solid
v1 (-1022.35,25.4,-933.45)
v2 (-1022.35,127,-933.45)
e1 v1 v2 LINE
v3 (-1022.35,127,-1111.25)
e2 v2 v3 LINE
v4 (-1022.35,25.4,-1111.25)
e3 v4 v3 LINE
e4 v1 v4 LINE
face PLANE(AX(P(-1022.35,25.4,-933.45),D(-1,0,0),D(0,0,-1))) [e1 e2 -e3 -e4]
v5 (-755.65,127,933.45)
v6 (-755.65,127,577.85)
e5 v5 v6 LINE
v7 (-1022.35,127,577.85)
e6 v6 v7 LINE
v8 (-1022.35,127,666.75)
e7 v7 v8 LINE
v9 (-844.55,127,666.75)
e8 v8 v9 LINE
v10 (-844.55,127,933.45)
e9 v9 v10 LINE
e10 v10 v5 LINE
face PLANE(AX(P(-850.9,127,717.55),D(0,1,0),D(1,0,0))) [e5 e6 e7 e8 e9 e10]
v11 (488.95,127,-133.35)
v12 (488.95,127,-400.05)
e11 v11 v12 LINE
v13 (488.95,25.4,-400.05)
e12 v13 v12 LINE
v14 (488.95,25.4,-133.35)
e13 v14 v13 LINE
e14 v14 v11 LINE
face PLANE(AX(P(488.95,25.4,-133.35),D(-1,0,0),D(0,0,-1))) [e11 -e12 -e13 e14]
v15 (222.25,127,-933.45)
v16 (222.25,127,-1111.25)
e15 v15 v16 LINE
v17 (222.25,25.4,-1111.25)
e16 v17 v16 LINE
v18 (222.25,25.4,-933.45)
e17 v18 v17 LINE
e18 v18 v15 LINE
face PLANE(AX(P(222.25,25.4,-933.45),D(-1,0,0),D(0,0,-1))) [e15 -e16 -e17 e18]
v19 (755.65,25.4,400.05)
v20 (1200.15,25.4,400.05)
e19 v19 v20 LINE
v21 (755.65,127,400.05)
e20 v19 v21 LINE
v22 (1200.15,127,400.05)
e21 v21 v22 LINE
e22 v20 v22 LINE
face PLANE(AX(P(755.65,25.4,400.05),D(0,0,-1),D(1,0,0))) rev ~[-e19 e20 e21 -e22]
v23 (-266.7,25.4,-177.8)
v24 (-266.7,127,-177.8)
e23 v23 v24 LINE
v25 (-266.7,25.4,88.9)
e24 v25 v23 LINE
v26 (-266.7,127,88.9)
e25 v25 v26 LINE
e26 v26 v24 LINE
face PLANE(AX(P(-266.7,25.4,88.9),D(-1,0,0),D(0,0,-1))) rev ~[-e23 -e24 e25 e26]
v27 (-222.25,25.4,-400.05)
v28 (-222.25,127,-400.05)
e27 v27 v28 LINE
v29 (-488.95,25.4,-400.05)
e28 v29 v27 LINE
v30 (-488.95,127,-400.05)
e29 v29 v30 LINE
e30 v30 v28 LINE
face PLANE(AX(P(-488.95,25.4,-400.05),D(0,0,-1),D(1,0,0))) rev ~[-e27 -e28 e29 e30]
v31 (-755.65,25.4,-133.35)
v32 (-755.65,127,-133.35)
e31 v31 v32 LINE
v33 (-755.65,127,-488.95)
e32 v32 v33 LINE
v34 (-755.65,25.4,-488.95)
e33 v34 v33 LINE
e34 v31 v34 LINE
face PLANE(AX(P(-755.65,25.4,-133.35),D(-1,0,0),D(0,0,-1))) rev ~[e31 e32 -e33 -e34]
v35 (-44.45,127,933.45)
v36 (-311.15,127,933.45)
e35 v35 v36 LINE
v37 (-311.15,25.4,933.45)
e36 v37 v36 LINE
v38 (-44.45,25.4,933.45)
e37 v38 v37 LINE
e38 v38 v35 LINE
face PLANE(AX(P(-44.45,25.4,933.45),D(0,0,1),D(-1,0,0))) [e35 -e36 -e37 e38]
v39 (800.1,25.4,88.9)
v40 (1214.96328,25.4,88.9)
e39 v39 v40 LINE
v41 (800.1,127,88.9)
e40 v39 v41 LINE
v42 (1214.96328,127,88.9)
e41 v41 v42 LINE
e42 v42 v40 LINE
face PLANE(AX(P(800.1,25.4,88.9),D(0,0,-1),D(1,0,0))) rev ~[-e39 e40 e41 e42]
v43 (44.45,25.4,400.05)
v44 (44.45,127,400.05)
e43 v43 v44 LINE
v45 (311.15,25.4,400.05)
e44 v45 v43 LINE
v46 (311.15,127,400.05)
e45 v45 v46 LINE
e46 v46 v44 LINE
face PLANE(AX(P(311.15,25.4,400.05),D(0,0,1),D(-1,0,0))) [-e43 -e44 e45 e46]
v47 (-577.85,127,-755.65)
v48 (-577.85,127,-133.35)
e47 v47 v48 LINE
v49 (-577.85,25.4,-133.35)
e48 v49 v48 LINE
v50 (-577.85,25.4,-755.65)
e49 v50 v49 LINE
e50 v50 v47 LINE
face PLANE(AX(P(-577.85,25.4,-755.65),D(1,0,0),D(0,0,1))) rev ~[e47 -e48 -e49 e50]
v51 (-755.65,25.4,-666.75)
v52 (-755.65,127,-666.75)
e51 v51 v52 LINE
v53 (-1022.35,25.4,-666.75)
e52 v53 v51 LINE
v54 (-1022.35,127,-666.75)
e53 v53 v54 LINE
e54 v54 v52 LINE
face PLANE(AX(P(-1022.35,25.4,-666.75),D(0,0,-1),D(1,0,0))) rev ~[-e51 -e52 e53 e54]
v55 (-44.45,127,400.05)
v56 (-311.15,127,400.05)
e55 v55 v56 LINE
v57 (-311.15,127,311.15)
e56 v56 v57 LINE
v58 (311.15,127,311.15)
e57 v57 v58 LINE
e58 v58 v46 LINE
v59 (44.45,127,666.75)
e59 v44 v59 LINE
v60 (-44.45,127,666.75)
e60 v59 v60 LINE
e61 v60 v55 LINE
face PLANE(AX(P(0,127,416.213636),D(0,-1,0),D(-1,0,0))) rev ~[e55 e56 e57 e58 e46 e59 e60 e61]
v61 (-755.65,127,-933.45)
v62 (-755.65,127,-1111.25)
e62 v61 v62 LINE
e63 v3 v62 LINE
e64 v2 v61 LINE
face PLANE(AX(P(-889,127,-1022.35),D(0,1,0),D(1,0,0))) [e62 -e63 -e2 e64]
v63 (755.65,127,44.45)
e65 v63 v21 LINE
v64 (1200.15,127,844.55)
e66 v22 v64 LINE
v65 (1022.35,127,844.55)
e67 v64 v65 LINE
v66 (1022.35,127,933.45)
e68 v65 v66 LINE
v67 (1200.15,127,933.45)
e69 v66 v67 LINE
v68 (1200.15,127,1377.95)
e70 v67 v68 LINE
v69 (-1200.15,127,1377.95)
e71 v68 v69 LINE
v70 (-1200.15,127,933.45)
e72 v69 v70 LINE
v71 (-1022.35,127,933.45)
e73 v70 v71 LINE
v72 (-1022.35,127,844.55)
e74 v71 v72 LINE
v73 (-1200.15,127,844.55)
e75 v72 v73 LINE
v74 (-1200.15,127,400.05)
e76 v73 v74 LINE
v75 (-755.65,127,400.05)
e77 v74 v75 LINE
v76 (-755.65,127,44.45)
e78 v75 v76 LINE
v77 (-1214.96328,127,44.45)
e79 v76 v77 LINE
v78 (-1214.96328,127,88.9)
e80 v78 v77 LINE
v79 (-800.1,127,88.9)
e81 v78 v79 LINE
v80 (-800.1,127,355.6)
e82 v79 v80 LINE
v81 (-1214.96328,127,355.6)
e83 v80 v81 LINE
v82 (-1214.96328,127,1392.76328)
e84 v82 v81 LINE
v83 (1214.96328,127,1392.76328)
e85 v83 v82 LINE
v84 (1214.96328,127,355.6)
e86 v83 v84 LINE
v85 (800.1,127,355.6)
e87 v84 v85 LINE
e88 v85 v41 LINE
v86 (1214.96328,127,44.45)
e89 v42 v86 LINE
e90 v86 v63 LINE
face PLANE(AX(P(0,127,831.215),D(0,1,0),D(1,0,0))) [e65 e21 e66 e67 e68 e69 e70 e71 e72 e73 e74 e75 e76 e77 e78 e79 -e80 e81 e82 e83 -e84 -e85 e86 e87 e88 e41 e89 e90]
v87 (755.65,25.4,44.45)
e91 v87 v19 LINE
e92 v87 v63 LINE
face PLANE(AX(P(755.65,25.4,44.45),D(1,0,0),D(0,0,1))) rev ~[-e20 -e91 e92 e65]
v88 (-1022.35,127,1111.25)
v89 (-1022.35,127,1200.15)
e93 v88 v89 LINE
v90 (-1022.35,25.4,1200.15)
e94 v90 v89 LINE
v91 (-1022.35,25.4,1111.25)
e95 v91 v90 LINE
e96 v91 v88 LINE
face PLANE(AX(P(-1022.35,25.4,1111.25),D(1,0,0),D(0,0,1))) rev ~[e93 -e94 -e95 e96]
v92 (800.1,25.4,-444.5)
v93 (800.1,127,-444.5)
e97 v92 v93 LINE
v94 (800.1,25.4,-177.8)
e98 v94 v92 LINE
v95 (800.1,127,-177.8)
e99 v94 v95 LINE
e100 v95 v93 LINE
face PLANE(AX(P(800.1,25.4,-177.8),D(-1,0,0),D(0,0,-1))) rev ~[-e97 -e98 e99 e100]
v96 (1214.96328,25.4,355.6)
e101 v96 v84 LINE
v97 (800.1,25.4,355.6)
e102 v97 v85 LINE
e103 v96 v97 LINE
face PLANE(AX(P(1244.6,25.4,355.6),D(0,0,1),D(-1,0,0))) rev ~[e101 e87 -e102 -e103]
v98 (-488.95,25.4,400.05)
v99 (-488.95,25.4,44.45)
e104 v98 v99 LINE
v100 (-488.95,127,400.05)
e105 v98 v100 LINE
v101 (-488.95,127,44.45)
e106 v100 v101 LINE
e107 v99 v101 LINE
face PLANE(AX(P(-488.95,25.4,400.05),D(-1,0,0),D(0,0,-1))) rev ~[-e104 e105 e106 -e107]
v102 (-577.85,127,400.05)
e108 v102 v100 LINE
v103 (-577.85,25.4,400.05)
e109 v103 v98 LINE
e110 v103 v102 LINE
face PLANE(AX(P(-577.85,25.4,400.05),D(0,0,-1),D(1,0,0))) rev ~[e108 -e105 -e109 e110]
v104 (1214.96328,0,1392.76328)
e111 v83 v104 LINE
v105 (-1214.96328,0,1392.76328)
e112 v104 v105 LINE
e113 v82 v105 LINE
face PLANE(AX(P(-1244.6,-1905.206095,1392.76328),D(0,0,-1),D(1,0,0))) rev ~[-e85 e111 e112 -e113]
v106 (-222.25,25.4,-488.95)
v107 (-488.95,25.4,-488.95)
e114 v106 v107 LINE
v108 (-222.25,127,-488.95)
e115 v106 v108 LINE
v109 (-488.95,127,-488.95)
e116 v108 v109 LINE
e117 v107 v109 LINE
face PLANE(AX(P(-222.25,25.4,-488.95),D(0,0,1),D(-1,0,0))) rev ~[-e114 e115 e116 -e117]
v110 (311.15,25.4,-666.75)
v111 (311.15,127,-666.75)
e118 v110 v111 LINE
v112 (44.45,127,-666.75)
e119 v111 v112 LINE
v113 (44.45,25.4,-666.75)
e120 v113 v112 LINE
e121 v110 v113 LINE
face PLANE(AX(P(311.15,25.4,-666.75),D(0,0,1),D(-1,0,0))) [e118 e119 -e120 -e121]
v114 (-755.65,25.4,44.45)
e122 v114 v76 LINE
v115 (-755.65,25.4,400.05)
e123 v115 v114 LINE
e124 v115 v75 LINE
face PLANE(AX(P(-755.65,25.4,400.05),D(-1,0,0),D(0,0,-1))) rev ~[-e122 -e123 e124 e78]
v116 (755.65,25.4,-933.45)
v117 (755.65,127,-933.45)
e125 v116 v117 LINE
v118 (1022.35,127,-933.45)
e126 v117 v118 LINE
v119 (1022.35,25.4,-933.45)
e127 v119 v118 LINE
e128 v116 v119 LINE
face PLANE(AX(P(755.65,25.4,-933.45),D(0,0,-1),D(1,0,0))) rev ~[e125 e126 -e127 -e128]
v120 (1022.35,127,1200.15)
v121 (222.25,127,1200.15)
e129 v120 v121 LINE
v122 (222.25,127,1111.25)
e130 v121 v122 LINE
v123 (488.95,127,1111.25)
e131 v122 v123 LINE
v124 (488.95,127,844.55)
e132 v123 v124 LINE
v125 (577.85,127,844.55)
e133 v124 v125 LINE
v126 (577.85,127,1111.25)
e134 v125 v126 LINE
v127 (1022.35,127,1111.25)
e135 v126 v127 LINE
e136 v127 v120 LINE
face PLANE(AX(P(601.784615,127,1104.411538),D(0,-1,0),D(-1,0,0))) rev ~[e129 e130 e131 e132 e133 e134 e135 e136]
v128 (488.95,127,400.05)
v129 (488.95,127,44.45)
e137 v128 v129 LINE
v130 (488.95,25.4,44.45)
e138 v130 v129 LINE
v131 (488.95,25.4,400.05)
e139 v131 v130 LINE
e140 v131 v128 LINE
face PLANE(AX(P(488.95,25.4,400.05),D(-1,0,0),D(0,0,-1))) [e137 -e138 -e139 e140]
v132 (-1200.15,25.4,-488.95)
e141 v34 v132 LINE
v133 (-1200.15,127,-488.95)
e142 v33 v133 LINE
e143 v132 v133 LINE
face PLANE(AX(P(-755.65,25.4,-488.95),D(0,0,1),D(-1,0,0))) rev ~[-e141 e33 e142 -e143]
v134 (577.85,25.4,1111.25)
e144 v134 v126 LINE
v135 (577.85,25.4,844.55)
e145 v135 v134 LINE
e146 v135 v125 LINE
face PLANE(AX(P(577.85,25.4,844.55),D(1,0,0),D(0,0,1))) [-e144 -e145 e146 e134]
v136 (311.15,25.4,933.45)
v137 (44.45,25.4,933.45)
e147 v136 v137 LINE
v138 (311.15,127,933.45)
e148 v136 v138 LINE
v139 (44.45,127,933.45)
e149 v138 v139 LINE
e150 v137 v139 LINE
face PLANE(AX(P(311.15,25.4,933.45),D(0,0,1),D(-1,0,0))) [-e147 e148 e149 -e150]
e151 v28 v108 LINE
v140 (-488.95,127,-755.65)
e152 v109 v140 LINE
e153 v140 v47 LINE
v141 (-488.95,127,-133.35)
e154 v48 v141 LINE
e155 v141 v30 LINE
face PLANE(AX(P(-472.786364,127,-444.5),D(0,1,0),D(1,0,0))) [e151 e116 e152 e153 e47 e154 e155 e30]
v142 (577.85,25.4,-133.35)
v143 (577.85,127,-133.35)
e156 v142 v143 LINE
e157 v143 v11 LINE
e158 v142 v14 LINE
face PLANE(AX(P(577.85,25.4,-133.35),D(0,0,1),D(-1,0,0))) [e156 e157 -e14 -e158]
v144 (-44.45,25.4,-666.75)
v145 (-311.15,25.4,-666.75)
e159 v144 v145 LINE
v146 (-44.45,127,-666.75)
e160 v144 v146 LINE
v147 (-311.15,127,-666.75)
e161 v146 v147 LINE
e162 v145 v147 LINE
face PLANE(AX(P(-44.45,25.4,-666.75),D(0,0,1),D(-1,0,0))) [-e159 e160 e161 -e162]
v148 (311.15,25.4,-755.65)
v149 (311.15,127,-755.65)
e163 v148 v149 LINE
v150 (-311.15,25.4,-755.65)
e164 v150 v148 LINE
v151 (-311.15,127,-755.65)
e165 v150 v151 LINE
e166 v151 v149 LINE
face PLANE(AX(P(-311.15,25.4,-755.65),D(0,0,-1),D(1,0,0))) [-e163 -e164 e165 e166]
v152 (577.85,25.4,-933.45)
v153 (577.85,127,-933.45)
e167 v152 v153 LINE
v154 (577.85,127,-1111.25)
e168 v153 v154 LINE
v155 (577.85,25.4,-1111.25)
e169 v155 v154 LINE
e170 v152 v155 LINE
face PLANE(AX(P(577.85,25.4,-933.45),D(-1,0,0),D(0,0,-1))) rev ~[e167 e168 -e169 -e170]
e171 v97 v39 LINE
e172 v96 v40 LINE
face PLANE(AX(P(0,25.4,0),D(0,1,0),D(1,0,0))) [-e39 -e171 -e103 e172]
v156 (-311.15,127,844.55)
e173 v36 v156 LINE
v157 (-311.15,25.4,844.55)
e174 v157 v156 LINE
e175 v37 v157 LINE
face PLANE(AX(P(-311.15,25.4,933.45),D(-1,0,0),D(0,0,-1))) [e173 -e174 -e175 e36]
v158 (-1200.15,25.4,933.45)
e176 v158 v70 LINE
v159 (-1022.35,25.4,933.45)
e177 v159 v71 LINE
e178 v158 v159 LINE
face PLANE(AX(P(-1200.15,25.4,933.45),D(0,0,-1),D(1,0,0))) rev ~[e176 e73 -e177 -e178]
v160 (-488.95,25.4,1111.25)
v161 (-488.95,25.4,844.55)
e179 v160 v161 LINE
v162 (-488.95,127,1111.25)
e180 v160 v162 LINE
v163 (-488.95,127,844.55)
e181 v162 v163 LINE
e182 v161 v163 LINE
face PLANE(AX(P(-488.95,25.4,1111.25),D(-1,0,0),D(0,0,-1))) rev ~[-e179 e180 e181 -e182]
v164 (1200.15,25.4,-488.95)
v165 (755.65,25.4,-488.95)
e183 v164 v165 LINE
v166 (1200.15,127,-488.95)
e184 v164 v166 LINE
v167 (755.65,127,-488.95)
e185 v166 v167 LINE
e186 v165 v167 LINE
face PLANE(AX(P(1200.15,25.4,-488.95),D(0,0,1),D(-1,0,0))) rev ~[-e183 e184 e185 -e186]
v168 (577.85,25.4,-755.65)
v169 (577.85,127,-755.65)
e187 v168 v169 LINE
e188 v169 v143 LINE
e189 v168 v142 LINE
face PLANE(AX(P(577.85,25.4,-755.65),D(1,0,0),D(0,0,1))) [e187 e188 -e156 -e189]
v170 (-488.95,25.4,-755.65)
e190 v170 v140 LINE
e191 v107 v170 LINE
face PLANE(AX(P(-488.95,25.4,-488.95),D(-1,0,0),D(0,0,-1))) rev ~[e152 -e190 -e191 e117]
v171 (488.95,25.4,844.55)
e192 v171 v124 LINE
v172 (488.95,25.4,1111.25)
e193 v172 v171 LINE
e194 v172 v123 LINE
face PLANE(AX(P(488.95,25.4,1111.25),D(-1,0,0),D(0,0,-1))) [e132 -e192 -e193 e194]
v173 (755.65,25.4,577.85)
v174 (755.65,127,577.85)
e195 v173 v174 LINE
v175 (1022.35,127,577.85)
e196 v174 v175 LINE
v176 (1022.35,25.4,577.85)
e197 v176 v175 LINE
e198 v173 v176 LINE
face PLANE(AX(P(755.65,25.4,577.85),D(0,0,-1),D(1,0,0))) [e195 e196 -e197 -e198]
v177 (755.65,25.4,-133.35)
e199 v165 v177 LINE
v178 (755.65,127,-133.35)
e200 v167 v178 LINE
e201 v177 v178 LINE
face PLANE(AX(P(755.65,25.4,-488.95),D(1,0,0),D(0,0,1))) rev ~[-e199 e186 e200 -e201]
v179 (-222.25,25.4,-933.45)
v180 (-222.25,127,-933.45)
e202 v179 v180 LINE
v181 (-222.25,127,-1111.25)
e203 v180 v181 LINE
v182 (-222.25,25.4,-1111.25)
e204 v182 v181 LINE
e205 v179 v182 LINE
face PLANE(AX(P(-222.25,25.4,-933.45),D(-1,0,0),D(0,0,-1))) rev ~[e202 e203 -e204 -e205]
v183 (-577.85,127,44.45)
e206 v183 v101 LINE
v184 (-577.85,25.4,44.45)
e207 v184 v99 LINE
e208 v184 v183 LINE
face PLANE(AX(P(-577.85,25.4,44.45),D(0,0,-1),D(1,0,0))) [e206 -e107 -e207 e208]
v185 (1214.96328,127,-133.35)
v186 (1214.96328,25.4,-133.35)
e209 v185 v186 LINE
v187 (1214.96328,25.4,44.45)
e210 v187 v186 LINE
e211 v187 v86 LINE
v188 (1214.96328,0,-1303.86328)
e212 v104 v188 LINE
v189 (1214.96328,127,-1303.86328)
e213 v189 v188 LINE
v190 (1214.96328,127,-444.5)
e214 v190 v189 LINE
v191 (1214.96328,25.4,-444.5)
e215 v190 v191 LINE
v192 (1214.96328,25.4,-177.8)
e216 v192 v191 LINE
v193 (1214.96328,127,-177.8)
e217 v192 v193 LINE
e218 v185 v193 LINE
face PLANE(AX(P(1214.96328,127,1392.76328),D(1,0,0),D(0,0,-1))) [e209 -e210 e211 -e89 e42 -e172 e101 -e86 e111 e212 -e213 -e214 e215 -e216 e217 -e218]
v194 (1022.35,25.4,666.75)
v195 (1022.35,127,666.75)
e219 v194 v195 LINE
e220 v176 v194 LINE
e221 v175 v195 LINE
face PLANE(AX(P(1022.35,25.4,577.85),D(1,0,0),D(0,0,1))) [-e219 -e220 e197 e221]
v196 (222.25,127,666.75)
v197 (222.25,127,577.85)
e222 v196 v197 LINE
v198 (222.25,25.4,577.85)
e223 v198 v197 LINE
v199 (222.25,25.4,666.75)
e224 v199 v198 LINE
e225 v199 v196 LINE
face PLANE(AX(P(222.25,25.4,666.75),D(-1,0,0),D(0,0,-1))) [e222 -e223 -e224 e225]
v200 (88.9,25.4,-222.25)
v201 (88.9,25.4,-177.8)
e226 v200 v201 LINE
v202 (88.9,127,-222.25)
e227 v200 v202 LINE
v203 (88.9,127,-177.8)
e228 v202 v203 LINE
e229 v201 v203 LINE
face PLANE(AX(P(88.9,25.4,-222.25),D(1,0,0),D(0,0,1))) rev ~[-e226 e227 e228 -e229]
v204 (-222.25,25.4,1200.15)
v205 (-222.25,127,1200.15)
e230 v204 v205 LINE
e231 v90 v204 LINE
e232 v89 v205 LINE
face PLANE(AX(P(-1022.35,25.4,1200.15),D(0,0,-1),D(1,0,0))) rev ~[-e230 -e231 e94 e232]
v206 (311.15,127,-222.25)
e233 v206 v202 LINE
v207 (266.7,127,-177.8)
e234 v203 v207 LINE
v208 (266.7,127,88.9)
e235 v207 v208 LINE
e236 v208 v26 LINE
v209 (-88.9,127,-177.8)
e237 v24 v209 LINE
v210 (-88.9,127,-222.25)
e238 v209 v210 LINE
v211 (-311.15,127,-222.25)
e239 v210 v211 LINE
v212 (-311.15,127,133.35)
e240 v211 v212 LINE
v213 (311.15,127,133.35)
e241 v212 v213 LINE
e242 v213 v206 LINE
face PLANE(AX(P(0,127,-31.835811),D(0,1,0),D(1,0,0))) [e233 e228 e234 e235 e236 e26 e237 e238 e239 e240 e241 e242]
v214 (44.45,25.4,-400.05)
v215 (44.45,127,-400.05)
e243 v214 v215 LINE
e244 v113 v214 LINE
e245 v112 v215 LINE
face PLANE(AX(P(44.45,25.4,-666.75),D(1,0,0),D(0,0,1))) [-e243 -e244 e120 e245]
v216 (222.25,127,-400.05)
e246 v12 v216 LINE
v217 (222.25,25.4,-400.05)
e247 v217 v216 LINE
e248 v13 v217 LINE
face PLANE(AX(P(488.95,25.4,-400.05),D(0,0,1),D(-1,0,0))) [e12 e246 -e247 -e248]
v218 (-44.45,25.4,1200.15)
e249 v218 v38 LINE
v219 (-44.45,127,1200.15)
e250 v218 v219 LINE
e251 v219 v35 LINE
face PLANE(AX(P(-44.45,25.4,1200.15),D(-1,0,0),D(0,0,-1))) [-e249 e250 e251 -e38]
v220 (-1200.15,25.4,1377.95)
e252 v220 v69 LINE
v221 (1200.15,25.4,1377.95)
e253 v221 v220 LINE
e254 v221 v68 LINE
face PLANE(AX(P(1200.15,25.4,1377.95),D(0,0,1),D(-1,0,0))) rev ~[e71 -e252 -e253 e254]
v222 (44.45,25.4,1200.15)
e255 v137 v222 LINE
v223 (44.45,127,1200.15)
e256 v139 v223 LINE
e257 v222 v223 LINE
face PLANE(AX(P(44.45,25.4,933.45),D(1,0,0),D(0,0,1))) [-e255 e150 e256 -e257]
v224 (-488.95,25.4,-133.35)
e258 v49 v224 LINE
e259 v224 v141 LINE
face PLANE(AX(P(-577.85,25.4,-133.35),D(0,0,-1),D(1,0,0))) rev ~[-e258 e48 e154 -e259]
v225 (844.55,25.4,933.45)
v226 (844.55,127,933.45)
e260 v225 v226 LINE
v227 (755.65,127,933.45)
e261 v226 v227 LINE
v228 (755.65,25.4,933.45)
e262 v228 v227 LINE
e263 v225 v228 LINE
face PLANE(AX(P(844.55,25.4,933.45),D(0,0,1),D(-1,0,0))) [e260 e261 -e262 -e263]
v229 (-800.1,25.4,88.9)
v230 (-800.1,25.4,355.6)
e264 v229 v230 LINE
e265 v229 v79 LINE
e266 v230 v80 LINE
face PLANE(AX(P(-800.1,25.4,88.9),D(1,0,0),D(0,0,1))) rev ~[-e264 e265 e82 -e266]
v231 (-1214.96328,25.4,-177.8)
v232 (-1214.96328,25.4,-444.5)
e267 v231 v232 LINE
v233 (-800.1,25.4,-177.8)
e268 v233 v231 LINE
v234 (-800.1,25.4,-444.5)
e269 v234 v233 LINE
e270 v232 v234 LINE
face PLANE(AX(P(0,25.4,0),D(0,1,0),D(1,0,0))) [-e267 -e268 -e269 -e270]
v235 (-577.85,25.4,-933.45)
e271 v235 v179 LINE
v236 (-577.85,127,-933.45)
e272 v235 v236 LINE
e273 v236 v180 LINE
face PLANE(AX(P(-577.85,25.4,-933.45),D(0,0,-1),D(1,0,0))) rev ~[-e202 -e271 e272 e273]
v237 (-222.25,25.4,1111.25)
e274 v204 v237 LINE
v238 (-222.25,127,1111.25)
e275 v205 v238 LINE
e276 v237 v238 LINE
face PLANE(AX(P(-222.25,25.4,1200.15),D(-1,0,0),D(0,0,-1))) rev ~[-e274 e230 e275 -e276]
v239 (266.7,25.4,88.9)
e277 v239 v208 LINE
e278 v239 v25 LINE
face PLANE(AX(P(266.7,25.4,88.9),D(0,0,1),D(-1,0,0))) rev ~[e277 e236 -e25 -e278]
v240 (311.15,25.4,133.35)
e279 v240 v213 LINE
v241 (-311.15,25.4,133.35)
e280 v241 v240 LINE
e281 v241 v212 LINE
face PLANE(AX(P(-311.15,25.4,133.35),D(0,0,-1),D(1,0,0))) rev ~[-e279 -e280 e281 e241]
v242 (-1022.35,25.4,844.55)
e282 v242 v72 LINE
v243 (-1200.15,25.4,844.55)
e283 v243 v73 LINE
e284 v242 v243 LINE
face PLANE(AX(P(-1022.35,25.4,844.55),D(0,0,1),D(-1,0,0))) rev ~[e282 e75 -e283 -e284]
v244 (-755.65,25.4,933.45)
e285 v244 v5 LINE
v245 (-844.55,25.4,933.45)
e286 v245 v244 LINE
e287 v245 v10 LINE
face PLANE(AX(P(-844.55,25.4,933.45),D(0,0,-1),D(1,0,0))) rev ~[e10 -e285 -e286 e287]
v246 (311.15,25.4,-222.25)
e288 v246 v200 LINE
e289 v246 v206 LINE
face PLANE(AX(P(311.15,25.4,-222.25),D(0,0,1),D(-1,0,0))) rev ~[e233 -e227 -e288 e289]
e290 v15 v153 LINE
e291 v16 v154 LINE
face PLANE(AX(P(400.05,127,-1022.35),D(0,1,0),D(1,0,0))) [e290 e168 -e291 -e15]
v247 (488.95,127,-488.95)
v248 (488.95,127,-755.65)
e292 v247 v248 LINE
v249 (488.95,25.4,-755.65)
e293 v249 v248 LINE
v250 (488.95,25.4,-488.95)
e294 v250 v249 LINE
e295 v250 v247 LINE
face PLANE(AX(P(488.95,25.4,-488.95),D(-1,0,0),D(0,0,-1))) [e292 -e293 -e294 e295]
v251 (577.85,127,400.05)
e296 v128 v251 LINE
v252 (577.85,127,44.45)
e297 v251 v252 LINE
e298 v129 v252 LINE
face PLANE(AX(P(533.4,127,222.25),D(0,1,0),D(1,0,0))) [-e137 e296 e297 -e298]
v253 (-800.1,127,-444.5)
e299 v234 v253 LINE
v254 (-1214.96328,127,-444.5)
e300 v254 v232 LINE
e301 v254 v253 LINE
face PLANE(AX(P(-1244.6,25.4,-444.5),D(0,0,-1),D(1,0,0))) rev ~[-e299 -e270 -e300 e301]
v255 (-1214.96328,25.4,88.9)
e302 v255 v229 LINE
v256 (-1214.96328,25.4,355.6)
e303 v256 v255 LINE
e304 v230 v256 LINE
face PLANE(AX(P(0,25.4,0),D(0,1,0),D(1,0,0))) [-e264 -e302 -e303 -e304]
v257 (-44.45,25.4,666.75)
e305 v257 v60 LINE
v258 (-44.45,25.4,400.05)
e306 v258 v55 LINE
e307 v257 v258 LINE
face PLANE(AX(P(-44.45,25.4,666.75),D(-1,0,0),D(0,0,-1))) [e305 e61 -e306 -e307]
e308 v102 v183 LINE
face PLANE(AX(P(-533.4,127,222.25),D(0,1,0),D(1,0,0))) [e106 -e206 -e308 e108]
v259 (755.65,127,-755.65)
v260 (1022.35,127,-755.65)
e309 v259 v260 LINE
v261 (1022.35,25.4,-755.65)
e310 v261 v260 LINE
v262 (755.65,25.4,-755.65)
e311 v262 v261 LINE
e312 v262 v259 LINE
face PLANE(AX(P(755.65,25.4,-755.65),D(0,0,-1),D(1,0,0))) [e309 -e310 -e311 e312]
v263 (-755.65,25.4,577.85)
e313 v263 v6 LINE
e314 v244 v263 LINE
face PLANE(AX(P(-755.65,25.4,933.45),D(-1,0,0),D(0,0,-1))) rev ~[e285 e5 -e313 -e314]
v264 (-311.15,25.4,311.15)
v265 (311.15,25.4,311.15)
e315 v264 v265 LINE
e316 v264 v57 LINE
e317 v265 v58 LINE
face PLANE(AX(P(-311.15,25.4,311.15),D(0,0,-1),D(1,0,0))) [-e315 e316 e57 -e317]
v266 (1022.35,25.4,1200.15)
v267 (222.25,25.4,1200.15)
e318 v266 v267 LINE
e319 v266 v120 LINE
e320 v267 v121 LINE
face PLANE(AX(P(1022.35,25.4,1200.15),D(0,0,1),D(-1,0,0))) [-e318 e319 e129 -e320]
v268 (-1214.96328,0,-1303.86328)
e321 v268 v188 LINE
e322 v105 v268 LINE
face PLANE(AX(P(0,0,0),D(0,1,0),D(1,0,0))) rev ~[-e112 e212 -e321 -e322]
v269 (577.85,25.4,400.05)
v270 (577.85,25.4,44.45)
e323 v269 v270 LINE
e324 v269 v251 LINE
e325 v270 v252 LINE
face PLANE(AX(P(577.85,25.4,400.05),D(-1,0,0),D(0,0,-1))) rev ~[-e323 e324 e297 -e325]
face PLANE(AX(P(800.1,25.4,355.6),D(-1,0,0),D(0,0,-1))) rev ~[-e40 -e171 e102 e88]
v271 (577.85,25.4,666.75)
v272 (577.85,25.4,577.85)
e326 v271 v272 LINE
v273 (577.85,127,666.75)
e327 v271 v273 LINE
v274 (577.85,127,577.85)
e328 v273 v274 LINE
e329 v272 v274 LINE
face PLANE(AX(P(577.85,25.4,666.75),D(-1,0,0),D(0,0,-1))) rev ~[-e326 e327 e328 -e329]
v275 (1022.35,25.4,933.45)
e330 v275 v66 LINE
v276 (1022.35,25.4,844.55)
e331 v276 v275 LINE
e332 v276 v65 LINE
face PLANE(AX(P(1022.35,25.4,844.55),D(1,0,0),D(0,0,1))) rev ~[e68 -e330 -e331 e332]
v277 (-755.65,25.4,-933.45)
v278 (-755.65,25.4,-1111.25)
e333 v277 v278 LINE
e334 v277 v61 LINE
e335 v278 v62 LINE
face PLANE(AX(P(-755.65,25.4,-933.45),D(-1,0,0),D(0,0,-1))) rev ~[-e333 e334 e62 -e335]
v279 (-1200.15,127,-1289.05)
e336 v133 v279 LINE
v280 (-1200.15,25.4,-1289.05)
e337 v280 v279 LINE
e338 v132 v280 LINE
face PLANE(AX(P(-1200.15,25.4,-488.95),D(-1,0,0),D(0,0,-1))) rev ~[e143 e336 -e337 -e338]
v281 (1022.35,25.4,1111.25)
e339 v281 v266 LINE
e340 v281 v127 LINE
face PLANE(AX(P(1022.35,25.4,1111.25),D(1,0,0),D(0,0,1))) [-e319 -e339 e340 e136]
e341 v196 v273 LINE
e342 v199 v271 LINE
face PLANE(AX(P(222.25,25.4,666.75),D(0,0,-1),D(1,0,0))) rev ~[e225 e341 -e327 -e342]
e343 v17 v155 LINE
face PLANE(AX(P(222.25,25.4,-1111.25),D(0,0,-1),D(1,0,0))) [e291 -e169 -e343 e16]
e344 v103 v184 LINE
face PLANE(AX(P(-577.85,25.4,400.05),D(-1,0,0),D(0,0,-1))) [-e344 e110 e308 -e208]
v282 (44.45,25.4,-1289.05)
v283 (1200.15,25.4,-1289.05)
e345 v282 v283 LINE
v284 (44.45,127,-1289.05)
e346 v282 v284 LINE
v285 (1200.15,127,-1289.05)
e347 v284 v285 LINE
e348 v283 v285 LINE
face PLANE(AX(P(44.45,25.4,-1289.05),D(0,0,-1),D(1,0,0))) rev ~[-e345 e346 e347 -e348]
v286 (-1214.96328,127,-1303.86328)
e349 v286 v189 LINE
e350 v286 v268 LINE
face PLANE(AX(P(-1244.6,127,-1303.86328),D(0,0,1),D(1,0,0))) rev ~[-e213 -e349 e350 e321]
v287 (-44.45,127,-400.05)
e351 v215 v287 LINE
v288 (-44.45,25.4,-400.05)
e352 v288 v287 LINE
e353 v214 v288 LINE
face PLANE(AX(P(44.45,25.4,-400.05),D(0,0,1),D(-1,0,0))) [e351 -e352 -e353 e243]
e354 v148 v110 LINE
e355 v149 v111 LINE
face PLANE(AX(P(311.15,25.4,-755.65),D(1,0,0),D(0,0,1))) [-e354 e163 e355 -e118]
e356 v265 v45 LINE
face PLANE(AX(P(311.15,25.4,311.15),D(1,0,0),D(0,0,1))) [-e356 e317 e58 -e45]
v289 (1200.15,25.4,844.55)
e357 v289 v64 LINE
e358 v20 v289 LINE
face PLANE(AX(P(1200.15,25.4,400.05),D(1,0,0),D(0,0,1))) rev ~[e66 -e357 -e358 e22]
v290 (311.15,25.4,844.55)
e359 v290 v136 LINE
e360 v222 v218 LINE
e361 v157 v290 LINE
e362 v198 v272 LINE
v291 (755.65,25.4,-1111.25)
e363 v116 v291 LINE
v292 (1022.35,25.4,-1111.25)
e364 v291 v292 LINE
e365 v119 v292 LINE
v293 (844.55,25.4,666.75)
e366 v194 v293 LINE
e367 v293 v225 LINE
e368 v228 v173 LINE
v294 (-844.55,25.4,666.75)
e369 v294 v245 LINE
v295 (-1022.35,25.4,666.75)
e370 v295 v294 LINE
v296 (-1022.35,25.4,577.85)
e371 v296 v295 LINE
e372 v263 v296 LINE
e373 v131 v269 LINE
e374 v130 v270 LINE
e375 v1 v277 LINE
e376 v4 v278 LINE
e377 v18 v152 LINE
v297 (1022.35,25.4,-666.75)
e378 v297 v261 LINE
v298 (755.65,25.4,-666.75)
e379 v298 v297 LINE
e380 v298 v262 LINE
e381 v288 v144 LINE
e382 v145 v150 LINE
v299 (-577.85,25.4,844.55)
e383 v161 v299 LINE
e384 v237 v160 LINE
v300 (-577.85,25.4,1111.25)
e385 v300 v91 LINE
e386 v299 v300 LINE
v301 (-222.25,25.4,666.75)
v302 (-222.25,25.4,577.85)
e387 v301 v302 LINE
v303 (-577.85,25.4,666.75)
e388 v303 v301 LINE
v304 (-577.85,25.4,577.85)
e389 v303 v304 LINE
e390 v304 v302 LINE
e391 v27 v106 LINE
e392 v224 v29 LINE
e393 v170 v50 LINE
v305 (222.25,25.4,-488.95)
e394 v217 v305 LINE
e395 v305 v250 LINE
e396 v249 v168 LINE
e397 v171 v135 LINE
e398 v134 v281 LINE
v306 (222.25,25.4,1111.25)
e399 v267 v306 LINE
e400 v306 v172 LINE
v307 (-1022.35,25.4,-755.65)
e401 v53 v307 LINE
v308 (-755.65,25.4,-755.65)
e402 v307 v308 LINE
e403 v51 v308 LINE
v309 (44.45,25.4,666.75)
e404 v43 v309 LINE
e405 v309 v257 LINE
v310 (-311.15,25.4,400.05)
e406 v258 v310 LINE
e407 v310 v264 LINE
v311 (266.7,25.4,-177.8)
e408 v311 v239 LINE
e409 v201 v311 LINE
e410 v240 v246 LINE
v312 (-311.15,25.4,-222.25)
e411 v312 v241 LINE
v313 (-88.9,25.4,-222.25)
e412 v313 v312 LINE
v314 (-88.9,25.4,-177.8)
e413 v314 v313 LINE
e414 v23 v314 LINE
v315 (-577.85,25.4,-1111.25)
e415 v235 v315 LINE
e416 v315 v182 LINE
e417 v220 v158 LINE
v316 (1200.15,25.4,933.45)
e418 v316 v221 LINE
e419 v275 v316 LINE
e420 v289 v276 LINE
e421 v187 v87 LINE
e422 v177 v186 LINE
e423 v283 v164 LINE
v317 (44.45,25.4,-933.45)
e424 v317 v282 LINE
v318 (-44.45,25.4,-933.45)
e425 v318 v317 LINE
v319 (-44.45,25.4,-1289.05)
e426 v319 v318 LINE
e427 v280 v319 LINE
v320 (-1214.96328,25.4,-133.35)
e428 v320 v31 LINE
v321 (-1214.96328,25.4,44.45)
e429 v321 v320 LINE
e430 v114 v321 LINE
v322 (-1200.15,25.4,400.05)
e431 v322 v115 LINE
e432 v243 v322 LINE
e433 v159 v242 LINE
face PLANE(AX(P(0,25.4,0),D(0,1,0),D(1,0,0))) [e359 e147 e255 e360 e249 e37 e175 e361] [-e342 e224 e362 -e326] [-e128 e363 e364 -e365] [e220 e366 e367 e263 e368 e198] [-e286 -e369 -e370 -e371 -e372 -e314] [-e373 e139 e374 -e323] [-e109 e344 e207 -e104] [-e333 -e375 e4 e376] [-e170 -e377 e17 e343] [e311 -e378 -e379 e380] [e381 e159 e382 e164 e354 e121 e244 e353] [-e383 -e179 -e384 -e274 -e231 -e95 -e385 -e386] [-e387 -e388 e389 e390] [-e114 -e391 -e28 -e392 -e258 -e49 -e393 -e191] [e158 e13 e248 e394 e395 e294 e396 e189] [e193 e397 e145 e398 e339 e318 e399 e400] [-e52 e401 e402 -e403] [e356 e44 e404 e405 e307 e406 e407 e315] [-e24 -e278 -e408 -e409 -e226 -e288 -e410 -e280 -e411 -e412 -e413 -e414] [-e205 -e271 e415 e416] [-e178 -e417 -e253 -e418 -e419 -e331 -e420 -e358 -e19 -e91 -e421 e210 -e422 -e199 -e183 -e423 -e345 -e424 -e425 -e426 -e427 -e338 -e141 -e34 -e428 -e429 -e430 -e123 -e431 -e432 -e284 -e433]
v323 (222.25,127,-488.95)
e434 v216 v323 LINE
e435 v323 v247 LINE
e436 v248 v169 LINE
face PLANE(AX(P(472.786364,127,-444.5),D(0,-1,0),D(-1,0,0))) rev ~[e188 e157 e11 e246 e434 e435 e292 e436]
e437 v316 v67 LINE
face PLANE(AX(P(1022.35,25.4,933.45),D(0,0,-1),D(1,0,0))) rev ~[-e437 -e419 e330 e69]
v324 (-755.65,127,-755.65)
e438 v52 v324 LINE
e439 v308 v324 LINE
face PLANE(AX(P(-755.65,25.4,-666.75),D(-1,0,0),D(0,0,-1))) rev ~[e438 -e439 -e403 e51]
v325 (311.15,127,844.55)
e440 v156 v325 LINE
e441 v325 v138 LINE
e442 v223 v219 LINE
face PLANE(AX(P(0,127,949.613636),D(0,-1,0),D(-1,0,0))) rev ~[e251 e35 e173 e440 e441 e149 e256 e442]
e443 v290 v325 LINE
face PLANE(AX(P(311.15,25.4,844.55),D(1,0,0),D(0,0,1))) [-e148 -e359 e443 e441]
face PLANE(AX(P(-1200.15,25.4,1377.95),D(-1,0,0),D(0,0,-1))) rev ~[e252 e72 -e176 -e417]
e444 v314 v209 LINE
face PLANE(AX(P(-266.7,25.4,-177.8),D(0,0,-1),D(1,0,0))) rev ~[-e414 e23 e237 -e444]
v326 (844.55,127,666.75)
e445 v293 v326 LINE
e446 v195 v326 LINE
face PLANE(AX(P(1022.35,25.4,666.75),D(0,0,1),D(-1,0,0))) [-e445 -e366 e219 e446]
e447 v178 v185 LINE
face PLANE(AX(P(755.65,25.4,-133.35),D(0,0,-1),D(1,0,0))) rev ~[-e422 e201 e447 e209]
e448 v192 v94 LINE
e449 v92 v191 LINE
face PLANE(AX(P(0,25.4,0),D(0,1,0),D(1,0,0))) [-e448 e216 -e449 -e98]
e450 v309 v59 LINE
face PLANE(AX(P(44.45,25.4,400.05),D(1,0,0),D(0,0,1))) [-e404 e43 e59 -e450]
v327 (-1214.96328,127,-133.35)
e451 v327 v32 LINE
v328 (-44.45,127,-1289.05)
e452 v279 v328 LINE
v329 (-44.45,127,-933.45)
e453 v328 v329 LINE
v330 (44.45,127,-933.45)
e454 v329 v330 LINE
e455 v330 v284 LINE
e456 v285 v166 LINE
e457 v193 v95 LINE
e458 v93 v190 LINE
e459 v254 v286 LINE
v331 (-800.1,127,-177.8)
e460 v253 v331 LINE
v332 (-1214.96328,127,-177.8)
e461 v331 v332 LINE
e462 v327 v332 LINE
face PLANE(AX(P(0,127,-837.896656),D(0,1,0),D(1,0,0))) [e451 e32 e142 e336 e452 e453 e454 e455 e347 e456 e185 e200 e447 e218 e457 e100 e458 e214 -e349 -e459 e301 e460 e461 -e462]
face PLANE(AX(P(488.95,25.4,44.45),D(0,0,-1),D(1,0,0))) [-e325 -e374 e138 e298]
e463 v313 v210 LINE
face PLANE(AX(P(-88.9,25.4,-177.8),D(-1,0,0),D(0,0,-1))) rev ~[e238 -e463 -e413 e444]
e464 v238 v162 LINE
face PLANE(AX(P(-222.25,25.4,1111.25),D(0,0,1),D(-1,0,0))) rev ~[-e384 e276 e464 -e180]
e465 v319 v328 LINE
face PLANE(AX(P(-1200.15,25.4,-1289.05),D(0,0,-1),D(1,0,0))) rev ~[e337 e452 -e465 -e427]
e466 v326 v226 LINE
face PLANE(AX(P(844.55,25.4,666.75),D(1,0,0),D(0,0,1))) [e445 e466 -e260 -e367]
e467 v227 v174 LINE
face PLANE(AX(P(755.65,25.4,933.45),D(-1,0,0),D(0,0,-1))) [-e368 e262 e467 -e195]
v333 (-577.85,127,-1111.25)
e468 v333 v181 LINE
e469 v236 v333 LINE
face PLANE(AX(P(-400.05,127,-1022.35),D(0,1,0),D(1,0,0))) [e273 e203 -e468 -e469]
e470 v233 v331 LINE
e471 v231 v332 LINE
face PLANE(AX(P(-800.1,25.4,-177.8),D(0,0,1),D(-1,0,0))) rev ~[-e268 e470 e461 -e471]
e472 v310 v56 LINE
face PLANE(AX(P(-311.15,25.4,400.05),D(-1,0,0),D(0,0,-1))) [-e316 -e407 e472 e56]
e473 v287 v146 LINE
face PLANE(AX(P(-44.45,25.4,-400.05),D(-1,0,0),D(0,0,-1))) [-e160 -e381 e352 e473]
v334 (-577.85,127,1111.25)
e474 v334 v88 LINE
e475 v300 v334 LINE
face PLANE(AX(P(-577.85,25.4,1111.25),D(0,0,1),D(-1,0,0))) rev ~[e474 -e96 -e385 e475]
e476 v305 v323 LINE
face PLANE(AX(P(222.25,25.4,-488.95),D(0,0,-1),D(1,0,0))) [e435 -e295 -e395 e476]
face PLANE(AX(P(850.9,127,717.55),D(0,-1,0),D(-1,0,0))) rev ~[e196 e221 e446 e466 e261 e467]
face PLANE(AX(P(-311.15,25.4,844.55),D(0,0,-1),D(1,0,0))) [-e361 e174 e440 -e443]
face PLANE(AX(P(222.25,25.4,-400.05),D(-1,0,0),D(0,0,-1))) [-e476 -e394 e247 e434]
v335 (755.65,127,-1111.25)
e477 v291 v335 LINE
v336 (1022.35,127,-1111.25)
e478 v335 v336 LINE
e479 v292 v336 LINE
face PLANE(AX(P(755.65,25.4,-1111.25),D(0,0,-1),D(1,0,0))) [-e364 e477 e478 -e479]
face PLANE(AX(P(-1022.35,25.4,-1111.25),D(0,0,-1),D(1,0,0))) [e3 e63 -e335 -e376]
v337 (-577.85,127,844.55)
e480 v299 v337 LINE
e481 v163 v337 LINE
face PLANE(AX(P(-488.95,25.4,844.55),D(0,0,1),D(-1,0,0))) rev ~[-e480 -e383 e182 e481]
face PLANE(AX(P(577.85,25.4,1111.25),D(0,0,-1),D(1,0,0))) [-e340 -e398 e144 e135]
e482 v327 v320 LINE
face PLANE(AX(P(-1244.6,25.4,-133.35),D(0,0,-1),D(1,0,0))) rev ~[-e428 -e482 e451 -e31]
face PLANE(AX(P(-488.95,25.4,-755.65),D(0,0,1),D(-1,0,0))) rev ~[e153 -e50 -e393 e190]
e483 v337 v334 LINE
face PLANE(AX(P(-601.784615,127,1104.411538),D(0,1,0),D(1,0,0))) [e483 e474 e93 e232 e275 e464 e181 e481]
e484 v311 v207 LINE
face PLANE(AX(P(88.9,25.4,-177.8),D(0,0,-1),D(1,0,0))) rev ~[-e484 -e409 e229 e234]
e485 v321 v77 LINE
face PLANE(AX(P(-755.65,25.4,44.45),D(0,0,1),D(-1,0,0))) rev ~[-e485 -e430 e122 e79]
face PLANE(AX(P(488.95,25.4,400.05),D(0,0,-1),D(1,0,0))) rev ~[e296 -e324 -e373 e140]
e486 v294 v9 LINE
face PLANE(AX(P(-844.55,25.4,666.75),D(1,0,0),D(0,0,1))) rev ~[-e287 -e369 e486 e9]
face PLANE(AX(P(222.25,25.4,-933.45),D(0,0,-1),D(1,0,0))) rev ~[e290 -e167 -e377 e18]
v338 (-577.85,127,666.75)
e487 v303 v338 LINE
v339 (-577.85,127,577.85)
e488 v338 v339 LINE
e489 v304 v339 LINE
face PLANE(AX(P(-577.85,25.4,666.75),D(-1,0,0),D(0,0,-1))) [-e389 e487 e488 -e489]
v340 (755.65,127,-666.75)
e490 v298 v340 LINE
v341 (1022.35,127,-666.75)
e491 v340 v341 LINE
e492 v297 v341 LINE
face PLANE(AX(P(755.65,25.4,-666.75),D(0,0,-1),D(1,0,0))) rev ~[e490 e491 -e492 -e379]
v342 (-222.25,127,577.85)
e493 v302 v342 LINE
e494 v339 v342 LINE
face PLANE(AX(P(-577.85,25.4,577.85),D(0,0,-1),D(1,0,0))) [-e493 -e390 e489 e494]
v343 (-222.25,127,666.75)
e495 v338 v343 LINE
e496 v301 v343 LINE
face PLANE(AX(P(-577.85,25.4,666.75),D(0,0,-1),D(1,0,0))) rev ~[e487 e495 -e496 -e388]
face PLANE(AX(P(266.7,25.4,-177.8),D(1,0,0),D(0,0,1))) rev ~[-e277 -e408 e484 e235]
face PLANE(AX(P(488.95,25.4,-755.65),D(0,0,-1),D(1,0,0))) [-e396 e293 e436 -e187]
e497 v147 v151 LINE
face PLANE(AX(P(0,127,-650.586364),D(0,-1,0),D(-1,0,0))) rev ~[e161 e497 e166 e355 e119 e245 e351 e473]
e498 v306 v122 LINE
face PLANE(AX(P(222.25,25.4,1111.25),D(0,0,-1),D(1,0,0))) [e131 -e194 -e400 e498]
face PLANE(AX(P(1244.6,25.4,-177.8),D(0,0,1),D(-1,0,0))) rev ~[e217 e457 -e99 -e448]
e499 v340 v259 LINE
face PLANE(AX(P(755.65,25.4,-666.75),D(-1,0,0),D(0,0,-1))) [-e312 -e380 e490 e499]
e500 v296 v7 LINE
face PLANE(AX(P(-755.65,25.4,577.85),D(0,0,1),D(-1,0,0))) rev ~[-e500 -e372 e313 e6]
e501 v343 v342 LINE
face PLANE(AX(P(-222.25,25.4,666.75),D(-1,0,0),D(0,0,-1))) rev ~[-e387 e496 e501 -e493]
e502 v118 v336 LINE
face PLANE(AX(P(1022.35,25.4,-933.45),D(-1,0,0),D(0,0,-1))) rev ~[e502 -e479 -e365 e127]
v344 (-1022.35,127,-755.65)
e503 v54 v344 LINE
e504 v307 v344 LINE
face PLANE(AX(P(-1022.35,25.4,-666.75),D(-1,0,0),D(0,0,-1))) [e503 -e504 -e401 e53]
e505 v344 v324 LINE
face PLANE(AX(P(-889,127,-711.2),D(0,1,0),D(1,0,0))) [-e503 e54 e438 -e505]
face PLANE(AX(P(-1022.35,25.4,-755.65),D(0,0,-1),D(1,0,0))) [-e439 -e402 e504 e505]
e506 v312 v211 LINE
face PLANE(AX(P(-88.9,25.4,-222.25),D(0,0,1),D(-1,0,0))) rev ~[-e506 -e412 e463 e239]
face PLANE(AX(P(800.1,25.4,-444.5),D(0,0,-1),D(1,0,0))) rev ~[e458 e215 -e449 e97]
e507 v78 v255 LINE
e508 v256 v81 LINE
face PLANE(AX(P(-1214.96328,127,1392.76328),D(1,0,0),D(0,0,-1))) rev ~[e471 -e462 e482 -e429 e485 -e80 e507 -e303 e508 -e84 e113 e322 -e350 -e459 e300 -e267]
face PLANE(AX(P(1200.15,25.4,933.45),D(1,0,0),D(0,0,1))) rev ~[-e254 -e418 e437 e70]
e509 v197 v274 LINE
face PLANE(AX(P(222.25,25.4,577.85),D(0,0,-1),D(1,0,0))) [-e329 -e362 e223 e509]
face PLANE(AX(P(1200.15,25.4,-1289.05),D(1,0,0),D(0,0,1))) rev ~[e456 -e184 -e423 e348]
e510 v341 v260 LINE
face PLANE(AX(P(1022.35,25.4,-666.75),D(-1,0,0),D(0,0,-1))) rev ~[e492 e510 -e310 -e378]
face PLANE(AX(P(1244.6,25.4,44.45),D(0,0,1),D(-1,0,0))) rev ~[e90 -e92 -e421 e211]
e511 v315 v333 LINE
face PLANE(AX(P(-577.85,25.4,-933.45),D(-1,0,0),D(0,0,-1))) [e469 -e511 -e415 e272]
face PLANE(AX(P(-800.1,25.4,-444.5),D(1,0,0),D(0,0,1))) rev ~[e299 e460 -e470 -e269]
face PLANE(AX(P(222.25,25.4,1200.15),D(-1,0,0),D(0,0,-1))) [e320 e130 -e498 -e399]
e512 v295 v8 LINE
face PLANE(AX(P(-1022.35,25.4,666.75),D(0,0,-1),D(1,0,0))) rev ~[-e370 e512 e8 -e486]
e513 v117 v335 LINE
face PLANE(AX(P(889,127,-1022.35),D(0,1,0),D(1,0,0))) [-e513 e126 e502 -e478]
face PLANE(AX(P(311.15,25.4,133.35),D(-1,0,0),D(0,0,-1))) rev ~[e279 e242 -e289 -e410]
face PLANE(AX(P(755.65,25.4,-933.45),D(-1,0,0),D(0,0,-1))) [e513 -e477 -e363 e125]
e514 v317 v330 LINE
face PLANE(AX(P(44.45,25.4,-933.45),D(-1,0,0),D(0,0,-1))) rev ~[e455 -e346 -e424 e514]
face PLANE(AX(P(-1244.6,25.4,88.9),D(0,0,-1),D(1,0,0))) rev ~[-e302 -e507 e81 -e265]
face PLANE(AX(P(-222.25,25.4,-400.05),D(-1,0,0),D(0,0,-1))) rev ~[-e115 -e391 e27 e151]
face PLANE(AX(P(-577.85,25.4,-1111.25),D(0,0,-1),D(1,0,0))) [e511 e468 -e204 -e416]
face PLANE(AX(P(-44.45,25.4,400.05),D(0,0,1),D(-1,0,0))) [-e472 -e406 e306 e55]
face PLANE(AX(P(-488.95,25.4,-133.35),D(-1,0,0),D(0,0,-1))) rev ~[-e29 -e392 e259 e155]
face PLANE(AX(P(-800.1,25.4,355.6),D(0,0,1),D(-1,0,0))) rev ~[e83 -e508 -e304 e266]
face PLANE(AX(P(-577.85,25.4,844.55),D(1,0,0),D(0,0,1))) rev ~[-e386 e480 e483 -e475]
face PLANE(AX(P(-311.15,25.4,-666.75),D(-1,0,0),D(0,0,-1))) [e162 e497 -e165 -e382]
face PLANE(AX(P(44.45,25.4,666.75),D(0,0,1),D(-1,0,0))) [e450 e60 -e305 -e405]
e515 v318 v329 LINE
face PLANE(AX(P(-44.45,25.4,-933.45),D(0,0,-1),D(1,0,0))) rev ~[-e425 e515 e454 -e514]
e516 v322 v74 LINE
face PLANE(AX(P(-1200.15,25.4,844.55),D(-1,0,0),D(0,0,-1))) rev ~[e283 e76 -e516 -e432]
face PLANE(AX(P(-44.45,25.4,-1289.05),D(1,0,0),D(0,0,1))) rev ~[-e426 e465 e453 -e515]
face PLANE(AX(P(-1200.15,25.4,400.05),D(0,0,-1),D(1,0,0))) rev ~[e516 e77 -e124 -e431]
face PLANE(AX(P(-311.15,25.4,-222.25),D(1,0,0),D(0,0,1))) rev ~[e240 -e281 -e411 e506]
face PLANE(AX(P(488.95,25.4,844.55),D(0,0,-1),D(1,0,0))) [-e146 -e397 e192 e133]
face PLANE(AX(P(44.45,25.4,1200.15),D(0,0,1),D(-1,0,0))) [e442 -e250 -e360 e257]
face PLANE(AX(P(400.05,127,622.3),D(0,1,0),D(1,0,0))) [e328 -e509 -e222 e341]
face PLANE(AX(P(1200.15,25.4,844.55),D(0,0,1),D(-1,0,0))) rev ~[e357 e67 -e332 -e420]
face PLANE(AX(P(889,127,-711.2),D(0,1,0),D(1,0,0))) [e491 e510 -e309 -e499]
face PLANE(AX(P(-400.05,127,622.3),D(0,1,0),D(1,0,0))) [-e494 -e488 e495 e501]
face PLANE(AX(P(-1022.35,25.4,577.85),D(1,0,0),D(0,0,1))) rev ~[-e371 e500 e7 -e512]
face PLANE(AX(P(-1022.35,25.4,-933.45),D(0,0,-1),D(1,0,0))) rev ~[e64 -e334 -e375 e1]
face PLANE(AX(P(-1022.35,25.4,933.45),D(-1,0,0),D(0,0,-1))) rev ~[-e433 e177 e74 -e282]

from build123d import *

# Parameters (mm, degrees)
SKETCH1_W               = 2489.2
SKETCH1_H               = 3200.4
BOSS_EXTRUDE2_DEPTH     = 25.4
SKETCH6_W               = 266.7
SKETCH6_H               = 177.8
SKETCH6_W_2             = 355.6
SKETCH6_H_2             = 88.9
SKETCH6_W_3             = 88.9
SKETCH6_H_3             = 355.6
BOSS_EXTRUDE3_DEPTH     = 101.6
SKETCH8_W               = 2489.2
SKETCH8_H               = 296.33672
CUT_EXTRUDE1_DEPTH      = 2032.206094911
CUT_EXTRUDE2_DEPTH      = 2032.206094911
CUT_EXTRUDE2_DEPTH_BACK = 2032.206094911
SKETCH9_W               = 2489.2
SKETCH9_H               = 207.43672
SKETCH10_W              = 29.63672
SKETCH10_H              = 2696.62656
CUT_EXTRUDE3_DEPTH      = 1873.150558614
SKETCH11_W              = 29.636719999
SKETCH11_H              = 2696.62656
CUT_EXTRUDE4_DEPTH      = 1873.150558614


with BuildPart() as part:
    # Sketch1 → Boss-Extrude2 (new body)
    with BuildSketch(Plane(origin=(0, 0, 0), x_dir=(1, 0, 0), z_dir=(0, 1, 0))):
        Rectangle(SKETCH1_W, SKETCH1_H)
    extrude(amount=BOSS_EXTRUDE2_DEPTH)

    # Sketch6 → Boss-Extrude3 (add)
    with BuildSketch(Plane(origin=(0, 25.4, 0), x_dir=(1, 0, 0), z_dir=(0, 1, 0))):
        Polygon((1244.6, 1333.5), (-1244.6, 1333.5), (-1244.6, 444.5), (-800.1, 444.5), (-800.1, 177.8), (-1244.6, 177.8), (-1244.6, 133.35), (-755.65, 133.35), (-755.65, 488.95), (-1200.15, 488.95), (-1200.15, 1289.05), (-44.45, 1289.05), (-44.45, 933.45), (44.45, 933.45), (44.45, 1289.05), (1200.15, 1289.05), (1200.15, 488.95), (755.65, 488.95), (755.65, 133.35), (1244.6, 133.35), (1244.6, 177.8), (800.1, 177.8), (800.1, 444.5), (1244.6, 444.5), align=None)
        with Locations((-889, 1022.35)):
            Rectangle(SKETCH6_W, SKETCH6_H)
        with Locations((-400.05, 1022.35)):
            Rectangle(SKETCH6_W_2, SKETCH6_H)
        with Locations((400.05, 1022.35)):
            Rectangle(SKETCH6_W_2, SKETCH6_H)
        with Locations((889, 1022.35)):
            Rectangle(SKETCH6_W, SKETCH6_H)
        with Locations((889, 711.2)):
            Rectangle(SKETCH6_W, SKETCH6_H_2)
        Polygon((577.85, 755.65), (577.85, 133.35), (488.95, 133.35), (488.95, 400.05), (222.25, 400.05), (222.25, 488.95), (488.95, 488.95), (488.95, 755.65), align=None)
        Polygon((311.15, 755.65), (311.15, 666.75), (44.45, 666.75), (44.45, 400.05), (-44.45, 400.05), (-44.45, 666.75), (-311.15, 666.75), (-311.15, 755.65), align=None)
        Polygon((-488.95, 488.95), (-488.95, 755.65), (-577.85, 755.65), (-577.85, 133.35), (-488.95, 133.35), (-488.95, 400.05), (-222.25, 400.05), (-222.25, 488.95), align=None)
        with Locations((-889, 711.2)):
            Rectangle(SKETCH6_W, SKETCH6_H_2)
        Polygon((-311.15, -133.35), (311.15, -133.35), (311.15, 222.25), (88.9, 222.25), (88.9, 177.8), (266.7, 177.8), (266.7, -88.9), (-266.7, -88.9), (-266.7, 177.8), (-88.9, 177.8), (-88.9, 222.25), (-311.15, 222.25), align=None)
        with Locations((-533.4, -222.25)):
            Rectangle(SKETCH6_W_3, SKETCH6_H_3)
        Polygon((-755.65, -44.45), (-1244.6, -44.45), (-1244.6, -88.9), (-800.1, -88.9), (-800.1, -355.6), (-1244.6, -355.6), (-1244.6, -1422.4), (1244.600000001, -1422.4), (1244.6, -355.6), (800.1, -355.6), (800.1, -88.9), (1244.6, -88.9), (1244.6, -44.45), (755.65, -44.45), (755.65, -400.05), (1200.15, -400.05), (1200.15, -844.549999958), (1022.350000001, -844.549999958), (1022.350000001, -933.449999958), (1200.150000001, -933.449999958), (1200.150000001, -1377.95), (-1200.15, -1377.95), (-1200.15, -933.45), (-1022.35, -933.45), (-1022.35, -844.55), (-1200.15, -844.55), (-1200.15, -400.05), (-755.65, -400.05), align=None)
        Polygon((311.15, -400.05), (44.45, -400.05), (44.45, -666.75), (-44.45, -666.75), (-44.45, -400.05), (-311.15, -400.05), (-311.15, -311.15), (311.15, -311.15), align=None)
        with Locations((533.4, -222.25)):
            Rectangle(SKETCH6_W_3, SKETCH6_H_3)
        with Locations((400.05, -622.3)):
            Rectangle(SKETCH6_W_2, SKETCH6_H_2)
        Polygon((755.65, -577.85), (1022.35, -577.85), (1022.35, -666.75), (844.55, -666.75), (844.55, -933.45), (755.65, -933.45), align=None)
        Polygon((577.85, -1111.25), (1022.35, -1111.25), (1022.35, -1200.15), (222.25, -1200.15), (222.25, -1111.25), (488.95, -1111.25), (488.95, -844.55), (577.85, -844.55), align=None)
        Polygon((311.15, -844.55), (311.15, -933.45), (44.45, -933.45), (44.45, -1200.15), (-44.45, -1200.15), (-44.45, -933.45), (-311.15, -933.45), (-311.15, -844.55), align=None)
        Polygon((-488.95, -1111.25), (-488.95, -844.55), (-577.85, -844.55), (-577.85, -1111.25), (-1022.35, -1111.25), (-1022.35, -1200.15), (-222.25, -1200.15), (-222.25, -1111.25), align=None)
        Polygon((-844.55, -933.45), (-755.65, -933.45), (-755.65, -577.85), (-1022.35, -577.85), (-1022.35, -666.75), (-844.55, -666.75), align=None)
        with Locations((-400.05, -622.3)):
            Rectangle(SKETCH6_W_2, SKETCH6_H_2)
    extrude(amount=BOSS_EXTRUDE3_DEPTH)

    # Sketch8 → Cut-Extrude1 (cut, through all)
    with BuildSketch(Plane(origin=(0, 127, 0), x_dir=(1, 0, 0), z_dir=(0, 1, 0))):
        with Locations((0, 1452.03164)):
            Rectangle(SKETCH8_W, SKETCH8_H)
    extrude(amount=-CUT_EXTRUDE1_DEPTH, mode=Mode.SUBTRACT)

    # Sketch9 → Cut-Extrude2 (cut, two sides: drawn at the far end of the back side and taken through both)
    with BuildSketch(Plane(origin=(0, 127, 0), x_dir=(1, 0, 0), z_dir=(0, 1, 0)).offset(-CUT_EXTRUDE2_DEPTH_BACK)):
        with Locations((0, -1496.48164)):
            Rectangle(SKETCH9_W, SKETCH9_H)
    extrude(amount=CUT_EXTRUDE2_DEPTH + CUT_EXTRUDE2_DEPTH_BACK, mode=Mode.SUBTRACT)

    # Sketch10 → Cut-Extrude3 (cut, through all)
    with BuildSketch(Plane(origin=(0, 127, 0), x_dir=(1, 0, 0), z_dir=(0, 1, 0))):
        with Locations((-1229.78164, -44.45)):
            Rectangle(SKETCH10_W, SKETCH10_H)
    extrude(amount=-CUT_EXTRUDE3_DEPTH, mode=Mode.SUBTRACT)

    # Sketch11 → Cut-Extrude4 (cut, through all)
    with BuildSketch(Plane(origin=(0, 127, 0), x_dir=(1, 0, 0), z_dir=(0, 1, 0))):
        with Locations((1229.781640001, -44.45)):
            Rectangle(SKETCH11_W, SKETCH11_H)
    extrude(amount=-CUT_EXTRUDE4_DEPTH, mode=Mode.SUBTRACT)


solid = part.part
